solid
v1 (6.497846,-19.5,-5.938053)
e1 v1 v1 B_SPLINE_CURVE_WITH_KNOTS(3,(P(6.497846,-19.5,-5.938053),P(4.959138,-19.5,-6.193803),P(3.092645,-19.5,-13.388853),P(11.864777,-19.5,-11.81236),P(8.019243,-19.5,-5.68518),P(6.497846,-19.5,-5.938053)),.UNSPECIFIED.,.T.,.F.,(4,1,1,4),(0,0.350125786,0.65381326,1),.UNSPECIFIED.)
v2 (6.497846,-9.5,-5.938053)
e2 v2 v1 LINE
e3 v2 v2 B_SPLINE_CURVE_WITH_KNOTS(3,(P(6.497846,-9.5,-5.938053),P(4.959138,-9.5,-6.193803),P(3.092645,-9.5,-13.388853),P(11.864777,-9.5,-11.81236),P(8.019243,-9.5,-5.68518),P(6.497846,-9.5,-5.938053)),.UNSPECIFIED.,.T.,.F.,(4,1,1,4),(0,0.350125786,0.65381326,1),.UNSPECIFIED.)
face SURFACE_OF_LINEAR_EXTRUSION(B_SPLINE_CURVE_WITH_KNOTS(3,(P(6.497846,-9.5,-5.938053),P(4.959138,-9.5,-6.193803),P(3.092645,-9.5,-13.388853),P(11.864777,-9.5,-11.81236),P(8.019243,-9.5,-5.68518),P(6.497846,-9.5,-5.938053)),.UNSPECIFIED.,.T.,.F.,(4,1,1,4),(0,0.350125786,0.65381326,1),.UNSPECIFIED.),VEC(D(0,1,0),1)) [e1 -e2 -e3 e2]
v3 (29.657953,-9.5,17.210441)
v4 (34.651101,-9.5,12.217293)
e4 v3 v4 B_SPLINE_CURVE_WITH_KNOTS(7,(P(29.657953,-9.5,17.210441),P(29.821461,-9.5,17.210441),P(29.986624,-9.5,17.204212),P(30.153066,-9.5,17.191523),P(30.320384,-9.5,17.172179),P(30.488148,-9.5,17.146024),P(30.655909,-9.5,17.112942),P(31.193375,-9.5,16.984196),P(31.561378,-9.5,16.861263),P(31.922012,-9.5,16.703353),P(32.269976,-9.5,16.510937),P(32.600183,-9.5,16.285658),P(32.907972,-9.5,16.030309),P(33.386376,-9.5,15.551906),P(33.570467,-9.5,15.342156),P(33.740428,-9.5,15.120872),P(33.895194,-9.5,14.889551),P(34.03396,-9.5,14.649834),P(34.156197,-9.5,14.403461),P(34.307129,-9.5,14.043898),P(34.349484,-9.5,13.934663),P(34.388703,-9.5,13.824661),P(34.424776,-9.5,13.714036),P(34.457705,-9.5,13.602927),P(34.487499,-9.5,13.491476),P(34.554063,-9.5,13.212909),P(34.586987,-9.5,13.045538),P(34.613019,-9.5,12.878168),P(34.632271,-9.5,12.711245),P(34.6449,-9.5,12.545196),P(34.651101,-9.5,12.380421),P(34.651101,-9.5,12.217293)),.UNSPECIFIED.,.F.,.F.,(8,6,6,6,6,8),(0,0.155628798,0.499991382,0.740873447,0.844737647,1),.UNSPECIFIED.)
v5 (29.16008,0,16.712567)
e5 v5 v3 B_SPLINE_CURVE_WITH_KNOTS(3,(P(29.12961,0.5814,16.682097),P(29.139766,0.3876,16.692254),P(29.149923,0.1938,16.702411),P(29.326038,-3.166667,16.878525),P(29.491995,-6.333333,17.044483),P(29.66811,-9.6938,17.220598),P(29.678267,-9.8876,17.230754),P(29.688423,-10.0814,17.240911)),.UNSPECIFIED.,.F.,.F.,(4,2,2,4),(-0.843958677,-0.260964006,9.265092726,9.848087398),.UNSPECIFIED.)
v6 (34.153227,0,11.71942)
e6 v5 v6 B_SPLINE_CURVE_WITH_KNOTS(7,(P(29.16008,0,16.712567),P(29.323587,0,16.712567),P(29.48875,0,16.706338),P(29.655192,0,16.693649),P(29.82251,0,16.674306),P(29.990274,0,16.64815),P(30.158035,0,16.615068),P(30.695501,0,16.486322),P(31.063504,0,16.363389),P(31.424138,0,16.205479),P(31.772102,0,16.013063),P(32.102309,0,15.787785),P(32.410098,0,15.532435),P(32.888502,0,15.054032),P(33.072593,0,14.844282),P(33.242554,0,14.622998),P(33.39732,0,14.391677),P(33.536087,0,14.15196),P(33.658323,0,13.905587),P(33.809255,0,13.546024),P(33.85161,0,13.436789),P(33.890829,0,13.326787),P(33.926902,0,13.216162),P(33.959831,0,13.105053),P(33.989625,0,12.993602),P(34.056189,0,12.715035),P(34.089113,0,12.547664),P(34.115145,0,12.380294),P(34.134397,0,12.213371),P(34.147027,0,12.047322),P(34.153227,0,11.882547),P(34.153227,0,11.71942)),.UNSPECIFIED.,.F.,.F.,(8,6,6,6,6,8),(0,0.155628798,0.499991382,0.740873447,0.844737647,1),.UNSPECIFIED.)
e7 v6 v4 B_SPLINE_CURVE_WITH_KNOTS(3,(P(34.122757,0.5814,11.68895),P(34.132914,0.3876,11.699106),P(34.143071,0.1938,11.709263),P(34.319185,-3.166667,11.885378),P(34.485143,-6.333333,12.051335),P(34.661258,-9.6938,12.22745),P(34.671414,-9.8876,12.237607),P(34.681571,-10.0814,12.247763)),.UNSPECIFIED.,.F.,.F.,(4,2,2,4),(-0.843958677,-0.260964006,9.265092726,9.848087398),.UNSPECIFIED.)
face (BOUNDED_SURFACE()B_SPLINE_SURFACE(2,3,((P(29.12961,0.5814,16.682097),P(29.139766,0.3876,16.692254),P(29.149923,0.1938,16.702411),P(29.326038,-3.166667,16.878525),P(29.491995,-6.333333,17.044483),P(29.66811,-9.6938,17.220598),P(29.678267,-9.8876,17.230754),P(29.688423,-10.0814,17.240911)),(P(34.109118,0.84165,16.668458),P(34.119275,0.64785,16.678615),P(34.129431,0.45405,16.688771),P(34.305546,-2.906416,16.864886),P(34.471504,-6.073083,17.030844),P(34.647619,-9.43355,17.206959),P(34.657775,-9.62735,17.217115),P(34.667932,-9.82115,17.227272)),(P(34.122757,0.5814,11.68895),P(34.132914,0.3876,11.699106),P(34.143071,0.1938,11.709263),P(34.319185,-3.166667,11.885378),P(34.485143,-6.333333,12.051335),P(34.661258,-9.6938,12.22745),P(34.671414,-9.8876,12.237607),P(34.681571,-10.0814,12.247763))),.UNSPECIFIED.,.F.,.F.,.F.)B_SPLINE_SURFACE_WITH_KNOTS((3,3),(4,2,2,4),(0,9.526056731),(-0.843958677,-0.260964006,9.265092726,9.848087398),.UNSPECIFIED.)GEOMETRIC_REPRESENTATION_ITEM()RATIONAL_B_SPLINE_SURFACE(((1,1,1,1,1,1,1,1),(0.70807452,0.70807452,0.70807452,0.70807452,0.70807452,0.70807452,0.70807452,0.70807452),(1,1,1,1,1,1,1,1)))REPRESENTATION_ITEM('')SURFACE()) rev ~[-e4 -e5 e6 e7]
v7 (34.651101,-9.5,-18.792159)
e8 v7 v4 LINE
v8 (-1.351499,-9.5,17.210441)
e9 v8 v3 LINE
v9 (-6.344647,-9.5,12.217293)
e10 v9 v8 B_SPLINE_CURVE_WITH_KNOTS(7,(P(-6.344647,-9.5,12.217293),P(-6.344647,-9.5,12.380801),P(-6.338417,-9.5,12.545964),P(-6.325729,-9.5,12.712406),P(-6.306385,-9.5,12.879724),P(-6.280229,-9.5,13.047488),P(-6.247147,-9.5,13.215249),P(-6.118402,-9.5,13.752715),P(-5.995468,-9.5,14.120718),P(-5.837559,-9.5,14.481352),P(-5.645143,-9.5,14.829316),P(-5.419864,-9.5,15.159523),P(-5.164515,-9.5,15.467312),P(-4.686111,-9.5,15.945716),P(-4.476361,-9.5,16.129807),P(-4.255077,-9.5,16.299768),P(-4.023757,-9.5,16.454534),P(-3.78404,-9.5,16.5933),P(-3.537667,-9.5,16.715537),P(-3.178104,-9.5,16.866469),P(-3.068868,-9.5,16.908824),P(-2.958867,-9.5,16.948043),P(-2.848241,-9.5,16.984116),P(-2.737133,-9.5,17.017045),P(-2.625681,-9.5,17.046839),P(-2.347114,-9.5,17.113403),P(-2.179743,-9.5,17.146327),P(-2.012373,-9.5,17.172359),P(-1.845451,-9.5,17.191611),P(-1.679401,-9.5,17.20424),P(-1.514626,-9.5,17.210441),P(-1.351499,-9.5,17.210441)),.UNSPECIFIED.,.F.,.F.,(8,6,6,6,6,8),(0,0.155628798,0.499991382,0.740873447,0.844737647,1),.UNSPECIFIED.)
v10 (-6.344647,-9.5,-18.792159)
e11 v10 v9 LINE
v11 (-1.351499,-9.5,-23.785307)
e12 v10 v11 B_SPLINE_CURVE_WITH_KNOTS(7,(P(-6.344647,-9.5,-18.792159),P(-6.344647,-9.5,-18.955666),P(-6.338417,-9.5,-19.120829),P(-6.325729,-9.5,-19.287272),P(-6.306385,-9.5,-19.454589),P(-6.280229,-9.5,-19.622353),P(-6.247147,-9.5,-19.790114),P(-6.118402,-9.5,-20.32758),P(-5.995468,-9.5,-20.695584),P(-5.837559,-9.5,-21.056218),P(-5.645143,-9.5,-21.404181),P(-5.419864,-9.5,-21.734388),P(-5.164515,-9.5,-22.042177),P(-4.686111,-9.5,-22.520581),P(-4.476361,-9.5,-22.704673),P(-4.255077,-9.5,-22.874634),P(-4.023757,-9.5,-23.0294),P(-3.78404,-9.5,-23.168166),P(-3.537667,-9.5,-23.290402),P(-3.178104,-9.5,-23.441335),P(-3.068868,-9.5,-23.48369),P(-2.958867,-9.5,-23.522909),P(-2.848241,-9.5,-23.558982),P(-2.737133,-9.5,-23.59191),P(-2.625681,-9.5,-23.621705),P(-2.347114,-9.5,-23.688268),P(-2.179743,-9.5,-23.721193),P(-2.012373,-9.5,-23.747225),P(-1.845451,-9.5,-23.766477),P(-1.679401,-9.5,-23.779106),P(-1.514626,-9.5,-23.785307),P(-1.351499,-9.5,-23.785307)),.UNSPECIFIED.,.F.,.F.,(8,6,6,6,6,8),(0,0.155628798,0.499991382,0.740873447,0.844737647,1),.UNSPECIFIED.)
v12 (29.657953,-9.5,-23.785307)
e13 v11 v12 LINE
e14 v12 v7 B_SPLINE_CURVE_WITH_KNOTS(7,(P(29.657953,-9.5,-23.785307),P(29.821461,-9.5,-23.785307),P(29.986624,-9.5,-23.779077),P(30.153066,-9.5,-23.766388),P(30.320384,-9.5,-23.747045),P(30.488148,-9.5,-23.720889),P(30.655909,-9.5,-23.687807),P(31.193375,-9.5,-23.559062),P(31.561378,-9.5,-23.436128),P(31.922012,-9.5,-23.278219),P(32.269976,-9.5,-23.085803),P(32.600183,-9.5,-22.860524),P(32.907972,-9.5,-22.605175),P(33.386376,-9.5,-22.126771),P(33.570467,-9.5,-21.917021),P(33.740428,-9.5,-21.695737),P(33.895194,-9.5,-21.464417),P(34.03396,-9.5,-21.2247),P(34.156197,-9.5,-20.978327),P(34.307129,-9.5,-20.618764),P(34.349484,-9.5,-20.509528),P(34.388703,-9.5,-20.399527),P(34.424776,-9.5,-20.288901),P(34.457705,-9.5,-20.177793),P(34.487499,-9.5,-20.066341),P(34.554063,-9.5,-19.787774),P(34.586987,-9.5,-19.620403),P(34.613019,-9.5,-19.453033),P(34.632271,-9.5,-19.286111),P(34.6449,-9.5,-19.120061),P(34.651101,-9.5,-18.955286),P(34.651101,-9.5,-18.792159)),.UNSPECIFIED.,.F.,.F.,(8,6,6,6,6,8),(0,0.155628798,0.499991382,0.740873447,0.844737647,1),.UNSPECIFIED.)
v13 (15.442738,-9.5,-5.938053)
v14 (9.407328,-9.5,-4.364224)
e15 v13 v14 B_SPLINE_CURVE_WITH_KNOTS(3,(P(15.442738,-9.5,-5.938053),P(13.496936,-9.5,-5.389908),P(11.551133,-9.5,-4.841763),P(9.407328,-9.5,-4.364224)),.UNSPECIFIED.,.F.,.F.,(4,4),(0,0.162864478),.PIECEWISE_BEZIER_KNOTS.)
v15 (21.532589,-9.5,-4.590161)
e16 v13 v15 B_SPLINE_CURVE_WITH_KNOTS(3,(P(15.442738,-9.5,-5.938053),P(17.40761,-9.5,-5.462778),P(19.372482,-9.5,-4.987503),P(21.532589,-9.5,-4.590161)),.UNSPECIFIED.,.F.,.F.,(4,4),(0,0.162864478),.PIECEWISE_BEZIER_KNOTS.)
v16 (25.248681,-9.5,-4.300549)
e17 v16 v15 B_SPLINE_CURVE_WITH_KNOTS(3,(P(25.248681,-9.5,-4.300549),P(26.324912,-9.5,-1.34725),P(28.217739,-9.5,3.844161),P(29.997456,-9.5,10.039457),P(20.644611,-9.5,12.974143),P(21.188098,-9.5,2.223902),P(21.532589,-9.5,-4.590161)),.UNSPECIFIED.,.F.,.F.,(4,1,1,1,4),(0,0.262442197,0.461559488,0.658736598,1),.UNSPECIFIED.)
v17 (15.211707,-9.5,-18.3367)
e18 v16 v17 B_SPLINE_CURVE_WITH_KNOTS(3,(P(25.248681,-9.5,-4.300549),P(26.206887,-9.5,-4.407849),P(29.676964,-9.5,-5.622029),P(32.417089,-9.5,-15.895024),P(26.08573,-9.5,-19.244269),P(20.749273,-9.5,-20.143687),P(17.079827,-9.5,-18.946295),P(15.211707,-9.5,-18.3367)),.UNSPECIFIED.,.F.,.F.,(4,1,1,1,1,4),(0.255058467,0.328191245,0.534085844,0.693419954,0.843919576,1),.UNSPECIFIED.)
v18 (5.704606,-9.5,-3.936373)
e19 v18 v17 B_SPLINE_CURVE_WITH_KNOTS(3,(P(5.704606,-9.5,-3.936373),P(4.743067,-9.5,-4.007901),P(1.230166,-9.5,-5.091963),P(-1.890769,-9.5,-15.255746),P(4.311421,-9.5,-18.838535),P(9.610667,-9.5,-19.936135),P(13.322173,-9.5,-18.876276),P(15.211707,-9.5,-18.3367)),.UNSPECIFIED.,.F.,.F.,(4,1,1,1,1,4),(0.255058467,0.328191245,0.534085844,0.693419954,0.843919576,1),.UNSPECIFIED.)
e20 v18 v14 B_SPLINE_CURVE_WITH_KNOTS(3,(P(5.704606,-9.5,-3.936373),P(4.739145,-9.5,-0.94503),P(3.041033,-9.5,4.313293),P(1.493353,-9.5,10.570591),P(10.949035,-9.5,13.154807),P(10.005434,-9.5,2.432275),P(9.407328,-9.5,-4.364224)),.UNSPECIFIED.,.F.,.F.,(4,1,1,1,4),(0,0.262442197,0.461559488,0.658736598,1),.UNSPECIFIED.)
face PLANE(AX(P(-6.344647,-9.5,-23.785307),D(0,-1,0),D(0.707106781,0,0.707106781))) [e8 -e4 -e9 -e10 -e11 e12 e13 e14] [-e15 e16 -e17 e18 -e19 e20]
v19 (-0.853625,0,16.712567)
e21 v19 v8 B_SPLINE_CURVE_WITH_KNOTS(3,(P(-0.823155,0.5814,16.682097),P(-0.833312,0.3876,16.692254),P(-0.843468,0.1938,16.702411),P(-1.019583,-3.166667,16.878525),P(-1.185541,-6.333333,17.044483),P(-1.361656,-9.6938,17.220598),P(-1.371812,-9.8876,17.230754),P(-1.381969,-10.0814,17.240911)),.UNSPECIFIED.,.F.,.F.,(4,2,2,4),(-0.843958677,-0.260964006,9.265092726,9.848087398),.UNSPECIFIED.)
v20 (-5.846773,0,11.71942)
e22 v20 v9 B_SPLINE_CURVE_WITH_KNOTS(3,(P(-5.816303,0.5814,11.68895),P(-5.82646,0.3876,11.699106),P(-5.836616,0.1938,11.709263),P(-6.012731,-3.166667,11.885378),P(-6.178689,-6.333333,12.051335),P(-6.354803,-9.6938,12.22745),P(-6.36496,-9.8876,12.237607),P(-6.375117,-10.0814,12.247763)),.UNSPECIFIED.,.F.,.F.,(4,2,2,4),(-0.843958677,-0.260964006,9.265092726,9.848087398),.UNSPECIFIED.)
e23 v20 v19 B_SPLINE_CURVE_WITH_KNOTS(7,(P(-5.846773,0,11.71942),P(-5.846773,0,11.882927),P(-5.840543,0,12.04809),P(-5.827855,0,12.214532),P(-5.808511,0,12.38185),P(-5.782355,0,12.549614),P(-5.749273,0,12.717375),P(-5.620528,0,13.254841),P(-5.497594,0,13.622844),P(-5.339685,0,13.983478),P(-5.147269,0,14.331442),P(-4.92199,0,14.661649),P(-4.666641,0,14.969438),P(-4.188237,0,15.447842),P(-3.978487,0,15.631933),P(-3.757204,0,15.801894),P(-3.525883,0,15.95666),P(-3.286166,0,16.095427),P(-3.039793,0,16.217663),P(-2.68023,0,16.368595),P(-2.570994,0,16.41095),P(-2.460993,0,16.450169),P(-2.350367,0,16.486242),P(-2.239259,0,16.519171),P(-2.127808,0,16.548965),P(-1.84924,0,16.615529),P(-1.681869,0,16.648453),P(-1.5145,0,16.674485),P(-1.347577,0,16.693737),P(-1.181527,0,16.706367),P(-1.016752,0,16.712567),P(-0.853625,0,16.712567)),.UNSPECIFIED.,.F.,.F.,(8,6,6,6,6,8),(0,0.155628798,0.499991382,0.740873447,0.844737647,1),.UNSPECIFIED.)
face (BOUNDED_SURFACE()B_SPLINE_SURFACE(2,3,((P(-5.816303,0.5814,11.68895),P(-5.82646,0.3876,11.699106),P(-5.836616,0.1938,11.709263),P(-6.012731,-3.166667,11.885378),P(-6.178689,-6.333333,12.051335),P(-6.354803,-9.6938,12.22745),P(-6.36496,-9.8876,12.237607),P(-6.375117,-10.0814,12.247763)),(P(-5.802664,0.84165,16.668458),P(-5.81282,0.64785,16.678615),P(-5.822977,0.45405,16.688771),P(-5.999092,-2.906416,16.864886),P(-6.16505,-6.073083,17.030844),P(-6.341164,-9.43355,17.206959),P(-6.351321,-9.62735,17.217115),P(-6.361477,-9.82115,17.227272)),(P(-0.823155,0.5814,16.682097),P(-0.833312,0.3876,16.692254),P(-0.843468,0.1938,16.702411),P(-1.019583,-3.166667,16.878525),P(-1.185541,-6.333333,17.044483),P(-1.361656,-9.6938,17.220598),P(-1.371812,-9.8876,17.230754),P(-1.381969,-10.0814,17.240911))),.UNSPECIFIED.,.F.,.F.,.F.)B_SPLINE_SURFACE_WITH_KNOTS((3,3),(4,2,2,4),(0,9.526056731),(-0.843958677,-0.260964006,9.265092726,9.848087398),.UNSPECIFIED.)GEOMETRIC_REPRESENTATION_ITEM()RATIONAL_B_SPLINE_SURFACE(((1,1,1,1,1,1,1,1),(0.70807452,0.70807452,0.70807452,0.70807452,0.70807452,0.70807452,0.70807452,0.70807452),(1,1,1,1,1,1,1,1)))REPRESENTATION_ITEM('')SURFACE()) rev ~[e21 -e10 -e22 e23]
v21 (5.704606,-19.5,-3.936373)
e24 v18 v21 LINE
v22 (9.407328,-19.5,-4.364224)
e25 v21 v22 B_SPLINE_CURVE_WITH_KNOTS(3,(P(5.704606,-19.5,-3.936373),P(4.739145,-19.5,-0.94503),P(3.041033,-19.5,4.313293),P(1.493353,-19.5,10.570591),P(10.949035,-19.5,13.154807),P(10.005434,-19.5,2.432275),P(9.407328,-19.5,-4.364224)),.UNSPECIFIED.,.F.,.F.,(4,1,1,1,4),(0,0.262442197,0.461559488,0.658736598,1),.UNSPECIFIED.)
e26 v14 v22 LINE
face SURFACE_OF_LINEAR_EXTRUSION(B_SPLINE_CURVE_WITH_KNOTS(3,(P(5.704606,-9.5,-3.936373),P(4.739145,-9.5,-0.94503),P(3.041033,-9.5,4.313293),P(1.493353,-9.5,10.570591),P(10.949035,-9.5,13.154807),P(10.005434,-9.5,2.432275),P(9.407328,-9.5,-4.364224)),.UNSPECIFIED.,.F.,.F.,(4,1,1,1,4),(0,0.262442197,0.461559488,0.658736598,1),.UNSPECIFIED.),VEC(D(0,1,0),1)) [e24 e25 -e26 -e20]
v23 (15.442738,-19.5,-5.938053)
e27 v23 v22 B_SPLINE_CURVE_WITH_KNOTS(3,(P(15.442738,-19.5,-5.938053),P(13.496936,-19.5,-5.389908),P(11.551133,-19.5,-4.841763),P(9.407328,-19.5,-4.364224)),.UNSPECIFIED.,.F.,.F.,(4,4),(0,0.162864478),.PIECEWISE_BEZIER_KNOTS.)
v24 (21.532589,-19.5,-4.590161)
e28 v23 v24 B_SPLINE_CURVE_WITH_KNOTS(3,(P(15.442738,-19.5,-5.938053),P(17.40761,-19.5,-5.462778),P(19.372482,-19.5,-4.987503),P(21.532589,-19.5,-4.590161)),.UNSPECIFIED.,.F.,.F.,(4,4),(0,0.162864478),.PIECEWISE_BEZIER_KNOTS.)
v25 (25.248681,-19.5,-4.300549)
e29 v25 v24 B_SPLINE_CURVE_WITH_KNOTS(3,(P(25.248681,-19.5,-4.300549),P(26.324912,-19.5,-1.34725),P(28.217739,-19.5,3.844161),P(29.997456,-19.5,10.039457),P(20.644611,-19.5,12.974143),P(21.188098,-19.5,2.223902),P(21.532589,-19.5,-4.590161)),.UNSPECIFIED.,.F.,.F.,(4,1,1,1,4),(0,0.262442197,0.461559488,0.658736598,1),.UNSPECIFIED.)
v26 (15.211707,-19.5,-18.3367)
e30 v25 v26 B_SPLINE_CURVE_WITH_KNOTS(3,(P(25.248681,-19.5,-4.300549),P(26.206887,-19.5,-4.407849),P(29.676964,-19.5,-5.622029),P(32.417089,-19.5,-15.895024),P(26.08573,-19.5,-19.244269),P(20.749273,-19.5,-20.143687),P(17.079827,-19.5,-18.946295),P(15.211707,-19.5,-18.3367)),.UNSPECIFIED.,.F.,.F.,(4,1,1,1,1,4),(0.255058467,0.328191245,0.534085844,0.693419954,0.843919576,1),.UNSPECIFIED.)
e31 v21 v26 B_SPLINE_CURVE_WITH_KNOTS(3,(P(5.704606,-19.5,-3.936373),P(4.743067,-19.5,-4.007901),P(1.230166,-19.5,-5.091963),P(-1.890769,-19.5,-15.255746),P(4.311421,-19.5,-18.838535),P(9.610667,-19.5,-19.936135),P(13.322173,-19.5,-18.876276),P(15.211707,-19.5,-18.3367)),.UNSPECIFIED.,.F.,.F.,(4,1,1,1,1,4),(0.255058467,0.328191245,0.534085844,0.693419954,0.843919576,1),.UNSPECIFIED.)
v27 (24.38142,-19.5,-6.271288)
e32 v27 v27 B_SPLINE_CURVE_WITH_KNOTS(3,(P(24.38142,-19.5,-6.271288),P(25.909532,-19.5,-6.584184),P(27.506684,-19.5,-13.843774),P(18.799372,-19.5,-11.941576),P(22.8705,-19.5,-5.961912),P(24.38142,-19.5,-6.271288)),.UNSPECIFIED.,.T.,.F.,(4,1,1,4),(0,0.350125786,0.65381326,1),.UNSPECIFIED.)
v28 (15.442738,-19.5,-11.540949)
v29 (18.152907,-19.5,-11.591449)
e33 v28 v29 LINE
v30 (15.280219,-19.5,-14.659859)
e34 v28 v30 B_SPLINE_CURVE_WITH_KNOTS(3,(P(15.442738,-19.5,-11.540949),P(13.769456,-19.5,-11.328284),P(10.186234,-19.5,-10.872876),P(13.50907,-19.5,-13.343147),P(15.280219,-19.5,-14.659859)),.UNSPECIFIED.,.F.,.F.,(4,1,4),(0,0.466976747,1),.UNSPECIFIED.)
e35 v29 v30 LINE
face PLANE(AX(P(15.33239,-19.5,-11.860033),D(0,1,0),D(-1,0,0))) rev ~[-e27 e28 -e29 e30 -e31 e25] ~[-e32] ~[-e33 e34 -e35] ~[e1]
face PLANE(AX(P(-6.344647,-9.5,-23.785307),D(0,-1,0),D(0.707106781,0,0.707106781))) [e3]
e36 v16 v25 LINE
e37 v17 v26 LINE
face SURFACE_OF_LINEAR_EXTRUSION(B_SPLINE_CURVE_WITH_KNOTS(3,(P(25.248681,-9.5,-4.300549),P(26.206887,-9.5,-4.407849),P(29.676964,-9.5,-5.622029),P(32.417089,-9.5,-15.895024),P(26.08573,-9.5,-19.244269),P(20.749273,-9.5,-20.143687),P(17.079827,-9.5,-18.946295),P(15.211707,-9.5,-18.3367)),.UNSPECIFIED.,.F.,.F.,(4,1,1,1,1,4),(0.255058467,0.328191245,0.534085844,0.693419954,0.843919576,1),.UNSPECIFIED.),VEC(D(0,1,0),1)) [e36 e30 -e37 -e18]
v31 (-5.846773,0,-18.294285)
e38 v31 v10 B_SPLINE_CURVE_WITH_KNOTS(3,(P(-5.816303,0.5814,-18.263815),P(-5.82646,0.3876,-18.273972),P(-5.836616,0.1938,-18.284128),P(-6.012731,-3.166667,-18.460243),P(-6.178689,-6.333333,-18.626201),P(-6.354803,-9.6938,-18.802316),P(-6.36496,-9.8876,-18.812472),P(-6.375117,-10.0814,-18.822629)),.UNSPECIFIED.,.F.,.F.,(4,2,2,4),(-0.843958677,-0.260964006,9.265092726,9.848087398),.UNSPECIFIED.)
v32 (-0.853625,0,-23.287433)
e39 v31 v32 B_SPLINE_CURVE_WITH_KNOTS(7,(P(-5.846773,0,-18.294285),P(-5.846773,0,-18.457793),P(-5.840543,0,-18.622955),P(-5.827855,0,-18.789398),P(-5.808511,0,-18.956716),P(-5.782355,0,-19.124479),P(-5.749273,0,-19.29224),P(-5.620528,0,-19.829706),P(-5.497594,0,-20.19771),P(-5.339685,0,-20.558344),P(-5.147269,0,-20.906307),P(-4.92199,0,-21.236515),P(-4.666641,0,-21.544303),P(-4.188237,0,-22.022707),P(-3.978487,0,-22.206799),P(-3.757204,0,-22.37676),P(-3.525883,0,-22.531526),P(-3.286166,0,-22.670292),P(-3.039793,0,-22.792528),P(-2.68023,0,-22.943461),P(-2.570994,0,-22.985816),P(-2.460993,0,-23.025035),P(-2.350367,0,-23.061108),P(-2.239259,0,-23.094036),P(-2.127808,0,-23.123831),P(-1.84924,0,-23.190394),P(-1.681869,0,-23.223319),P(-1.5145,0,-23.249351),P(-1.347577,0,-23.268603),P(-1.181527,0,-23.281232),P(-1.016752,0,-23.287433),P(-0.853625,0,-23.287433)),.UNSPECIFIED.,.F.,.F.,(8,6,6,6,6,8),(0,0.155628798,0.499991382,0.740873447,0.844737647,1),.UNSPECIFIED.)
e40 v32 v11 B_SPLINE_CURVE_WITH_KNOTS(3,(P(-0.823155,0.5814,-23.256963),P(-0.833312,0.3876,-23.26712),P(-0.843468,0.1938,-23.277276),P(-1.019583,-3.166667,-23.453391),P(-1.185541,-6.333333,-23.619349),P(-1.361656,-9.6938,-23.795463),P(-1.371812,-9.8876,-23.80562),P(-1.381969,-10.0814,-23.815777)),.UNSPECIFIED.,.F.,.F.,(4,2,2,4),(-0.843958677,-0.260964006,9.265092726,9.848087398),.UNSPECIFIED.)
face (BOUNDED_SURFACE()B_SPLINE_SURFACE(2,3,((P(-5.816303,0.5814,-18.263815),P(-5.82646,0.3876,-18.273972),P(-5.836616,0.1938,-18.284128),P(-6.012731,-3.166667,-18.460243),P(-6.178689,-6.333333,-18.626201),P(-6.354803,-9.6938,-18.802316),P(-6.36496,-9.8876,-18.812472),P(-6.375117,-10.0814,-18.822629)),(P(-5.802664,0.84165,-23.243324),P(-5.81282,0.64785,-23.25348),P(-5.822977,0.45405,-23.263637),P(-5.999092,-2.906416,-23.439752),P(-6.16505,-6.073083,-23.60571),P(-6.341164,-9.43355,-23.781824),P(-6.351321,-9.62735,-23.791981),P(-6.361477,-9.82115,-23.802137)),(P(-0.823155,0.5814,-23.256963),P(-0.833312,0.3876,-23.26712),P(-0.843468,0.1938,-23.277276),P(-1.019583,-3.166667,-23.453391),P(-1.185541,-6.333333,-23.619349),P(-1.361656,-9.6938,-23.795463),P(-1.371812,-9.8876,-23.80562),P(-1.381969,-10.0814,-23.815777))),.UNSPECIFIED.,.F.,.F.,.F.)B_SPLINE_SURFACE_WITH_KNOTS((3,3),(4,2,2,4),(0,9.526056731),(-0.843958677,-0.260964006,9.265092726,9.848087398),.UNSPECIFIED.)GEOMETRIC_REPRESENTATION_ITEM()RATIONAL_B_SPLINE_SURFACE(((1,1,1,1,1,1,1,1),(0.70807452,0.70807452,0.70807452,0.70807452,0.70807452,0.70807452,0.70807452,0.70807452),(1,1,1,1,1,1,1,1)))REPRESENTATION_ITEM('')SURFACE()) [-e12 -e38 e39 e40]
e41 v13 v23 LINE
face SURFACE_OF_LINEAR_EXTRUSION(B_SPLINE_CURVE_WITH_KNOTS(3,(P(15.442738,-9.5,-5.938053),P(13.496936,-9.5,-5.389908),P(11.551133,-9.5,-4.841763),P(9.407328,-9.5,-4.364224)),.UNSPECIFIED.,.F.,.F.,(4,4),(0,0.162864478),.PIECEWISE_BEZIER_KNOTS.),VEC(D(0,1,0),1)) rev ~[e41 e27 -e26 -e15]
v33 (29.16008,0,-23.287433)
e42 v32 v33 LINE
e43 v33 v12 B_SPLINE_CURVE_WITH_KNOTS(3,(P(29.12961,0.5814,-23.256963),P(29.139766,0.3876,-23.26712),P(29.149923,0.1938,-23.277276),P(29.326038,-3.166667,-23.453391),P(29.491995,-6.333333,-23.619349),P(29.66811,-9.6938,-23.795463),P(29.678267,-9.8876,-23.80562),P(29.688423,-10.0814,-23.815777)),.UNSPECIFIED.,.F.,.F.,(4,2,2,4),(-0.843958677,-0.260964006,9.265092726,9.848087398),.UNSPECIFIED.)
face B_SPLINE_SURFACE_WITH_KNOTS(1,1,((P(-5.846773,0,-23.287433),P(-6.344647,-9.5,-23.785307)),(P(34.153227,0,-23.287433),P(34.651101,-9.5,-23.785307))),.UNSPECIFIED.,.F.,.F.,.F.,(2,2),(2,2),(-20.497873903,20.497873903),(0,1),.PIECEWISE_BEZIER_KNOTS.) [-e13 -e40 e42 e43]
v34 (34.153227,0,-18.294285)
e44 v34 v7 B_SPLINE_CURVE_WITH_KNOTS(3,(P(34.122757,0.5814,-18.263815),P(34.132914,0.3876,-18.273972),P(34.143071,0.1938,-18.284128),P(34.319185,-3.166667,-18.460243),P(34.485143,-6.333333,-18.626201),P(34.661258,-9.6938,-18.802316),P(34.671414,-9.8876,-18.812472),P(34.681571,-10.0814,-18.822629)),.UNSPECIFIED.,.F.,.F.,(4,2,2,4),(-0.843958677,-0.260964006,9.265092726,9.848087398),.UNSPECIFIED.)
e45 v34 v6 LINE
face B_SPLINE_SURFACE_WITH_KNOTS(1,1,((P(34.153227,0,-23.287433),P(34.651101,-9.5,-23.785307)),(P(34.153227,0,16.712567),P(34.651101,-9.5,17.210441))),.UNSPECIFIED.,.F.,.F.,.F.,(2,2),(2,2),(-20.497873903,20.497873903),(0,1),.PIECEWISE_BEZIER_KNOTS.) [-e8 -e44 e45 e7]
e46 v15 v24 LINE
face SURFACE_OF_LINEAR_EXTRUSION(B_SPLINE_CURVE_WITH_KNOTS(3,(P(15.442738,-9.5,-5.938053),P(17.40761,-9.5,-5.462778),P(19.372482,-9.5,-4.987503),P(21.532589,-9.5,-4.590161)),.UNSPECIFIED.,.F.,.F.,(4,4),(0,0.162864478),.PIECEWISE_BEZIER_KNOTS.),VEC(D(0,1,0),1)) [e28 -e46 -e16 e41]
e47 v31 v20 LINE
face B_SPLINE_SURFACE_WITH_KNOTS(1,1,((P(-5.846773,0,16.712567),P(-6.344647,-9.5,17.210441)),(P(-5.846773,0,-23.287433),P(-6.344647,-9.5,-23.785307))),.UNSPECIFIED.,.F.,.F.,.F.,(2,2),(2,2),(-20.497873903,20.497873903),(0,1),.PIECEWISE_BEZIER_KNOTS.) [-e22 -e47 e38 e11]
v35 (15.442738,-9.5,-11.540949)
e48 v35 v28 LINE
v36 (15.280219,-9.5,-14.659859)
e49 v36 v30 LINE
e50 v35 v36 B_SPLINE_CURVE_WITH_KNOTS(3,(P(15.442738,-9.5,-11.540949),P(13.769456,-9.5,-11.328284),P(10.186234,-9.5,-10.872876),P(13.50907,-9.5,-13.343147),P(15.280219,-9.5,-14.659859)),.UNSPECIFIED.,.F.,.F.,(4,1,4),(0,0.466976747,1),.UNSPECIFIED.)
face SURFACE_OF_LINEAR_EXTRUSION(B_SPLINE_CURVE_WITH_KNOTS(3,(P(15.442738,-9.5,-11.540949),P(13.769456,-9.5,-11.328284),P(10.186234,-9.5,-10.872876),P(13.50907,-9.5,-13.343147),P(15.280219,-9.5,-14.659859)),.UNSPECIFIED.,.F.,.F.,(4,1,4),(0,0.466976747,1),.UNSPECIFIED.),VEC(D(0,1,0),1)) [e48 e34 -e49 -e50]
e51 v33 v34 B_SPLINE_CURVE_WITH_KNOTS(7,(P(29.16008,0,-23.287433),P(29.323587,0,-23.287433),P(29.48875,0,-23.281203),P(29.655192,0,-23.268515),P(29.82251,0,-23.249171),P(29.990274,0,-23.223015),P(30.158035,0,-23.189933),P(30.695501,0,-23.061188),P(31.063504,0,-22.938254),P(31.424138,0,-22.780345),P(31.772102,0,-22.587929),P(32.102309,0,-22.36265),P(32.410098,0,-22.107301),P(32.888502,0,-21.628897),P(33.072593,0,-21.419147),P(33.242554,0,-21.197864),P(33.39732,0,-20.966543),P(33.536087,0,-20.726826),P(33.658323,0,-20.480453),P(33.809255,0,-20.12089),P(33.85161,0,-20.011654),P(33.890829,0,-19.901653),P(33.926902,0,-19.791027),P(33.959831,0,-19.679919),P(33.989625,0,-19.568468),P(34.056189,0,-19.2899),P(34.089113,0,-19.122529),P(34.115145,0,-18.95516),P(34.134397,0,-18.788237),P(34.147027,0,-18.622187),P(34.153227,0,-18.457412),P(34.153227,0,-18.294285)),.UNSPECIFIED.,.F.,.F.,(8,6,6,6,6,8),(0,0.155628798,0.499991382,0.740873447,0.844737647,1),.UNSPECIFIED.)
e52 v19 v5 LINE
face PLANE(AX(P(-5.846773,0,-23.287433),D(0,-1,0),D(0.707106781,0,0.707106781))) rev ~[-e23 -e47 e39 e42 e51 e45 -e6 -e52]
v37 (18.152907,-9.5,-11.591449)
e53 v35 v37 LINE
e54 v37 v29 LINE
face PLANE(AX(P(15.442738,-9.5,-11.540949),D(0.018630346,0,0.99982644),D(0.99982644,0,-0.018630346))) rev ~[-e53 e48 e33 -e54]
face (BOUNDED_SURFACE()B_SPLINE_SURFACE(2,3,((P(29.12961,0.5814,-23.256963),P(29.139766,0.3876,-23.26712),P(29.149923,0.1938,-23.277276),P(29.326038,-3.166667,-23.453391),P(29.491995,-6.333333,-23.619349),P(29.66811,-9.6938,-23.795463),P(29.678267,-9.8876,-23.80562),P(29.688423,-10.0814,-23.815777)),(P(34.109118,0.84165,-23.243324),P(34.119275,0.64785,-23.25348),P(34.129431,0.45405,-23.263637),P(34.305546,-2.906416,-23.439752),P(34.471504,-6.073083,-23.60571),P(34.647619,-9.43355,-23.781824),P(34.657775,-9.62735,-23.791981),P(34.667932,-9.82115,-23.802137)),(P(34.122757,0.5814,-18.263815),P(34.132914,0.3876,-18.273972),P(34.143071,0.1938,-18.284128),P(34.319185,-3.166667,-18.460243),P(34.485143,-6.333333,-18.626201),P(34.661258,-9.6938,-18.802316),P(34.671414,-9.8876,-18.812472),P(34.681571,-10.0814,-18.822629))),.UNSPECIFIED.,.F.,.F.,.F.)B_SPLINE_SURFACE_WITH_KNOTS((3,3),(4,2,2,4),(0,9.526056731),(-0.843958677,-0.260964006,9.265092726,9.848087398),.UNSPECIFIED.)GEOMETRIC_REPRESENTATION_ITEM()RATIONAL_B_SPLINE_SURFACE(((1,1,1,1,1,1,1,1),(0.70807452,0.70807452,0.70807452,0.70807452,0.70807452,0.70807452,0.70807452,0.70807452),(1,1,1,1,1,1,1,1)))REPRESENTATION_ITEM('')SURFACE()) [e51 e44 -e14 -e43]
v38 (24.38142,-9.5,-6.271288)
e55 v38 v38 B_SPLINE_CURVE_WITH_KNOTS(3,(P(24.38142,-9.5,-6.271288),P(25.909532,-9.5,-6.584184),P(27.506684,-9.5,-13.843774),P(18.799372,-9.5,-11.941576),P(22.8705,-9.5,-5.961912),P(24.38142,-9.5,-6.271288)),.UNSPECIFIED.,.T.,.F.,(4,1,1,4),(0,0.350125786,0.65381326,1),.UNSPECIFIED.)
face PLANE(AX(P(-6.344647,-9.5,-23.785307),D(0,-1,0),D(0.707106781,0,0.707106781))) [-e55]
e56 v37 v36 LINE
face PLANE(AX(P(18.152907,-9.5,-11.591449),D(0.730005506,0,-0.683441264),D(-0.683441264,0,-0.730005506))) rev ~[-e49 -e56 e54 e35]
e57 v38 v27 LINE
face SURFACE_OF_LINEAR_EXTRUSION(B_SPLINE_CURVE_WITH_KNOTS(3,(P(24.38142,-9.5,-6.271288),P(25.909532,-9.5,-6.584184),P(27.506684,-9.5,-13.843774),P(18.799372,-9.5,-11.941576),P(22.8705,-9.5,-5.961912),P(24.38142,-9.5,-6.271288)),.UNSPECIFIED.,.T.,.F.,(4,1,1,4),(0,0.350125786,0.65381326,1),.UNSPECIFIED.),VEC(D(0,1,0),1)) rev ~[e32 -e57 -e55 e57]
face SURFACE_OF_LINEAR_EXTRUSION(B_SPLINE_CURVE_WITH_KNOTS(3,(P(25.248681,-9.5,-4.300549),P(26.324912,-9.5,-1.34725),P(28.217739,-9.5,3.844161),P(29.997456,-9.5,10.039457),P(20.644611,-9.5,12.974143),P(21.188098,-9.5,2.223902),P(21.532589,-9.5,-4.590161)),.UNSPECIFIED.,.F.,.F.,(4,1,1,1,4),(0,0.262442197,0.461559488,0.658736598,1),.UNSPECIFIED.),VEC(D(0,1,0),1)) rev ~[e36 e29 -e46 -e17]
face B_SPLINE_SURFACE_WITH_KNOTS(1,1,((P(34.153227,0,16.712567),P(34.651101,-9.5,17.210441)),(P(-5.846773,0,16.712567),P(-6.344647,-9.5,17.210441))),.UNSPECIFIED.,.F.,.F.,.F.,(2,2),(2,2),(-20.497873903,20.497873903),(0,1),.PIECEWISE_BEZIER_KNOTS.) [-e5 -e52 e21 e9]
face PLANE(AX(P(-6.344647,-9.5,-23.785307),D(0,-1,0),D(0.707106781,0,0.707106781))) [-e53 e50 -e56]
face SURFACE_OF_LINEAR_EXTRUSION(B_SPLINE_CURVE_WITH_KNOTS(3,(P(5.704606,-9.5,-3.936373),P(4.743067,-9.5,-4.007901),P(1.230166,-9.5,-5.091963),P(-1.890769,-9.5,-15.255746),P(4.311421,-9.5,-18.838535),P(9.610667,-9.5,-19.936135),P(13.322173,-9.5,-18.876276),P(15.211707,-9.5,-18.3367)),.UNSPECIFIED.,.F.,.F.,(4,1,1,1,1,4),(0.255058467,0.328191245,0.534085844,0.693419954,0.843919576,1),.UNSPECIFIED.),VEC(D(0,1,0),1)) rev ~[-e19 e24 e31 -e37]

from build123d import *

# Parameters (mm, degrees)
F0_W     = 40
F0_H     = 40
F1_DEPTH = 9.5
F1_TAPER = -3
F3_DEPTH = 10
F4_R     = 5


with BuildPart() as f1:
    # F0 (on Front) → F1 (new body)
    with BuildSketch(Plane.XZ):
        with Locations((14.15322721, -3.2874327707)):
            Rectangle(F0_W, F0_H)
    extrude(amount=F1_DEPTH, taper=F1_TAPER)

    # F2 (on face) → F3 (join)
    with BuildSketch(Plane.XZ.offset(9.5)):
        with BuildLine():
            add(Edge.make_bspline(
                [(15.4427378055, -5.9380531249), (17.4076100785, -5.4627778585), (19.3724823516, -4.9875025921), (21.532589289, -4.5901611645)],
                knots=[0, 0, 0, 0, 0.1628644785, 0.1628644785, 0.1628644785, 0.1628644785], degree=3))
            add(Edge.make_bspline(
                [(15.4427378055, -5.9380531249), (13.496935518, -5.3899079926), (11.5511332305, -4.8417628604), (9.4073284417, -4.3642241508)],
                knots=[0, 0, 0, 0, 0.1628644785, 0.1628644785, 0.1628644785, 0.1628644785], degree=3))
            add(Edge.make_bspline(
                [(9.4073284417, -4.3642241508), (8.1937678427, -4.0939000217), (6.9167584838, -3.8462013136), (5.7046060089, -3.9363729443)],
                knots=[0.1628644785, 0.1628644785, 0.1628644785, 0.1628644785, 0.255058467, 0.255058467, 0.255058467, 0.255058467], degree=3))
            add(Edge.make_bspline(
                [(5.7046060089, -3.9363729443), (4.7430674137, -4.0079014895), (1.2301656717, -5.0919629627), (-1.8907689465, -15.255745714), (4.3114213843, -18.83853525), (9.6106669115, -19.9361347211), (13.3221727046, -18.8762759486), (15.2117066308, -18.3367000407)],
                knots=[0.255058467, 0.255058467, 0.255058467, 0.255058467, 0.3281912453, 0.5340858443, 0.6934199544, 0.8439195762, 1, 1, 1, 1], degree=3))
            add(Edge.make_bspline(
                [(25.2486806324, -4.3005490154), (26.2068870067, -4.4078492813), (29.676964295, -5.6220286504), (32.4170885825, -15.8950239096), (26.0857296406, -19.2442685571), (20.7492725245, -20.1436868159), (17.0798273993, -18.9462945066), (15.2117066308, -18.3367000407)],
                knots=[0.255058467, 0.255058467, 0.255058467, 0.255058467, 0.3281912453, 0.5340858443, 0.6934199544, 0.8439195762, 1, 1, 1, 1], degree=3))
            add(Edge.make_bspline(
                [(21.532589289, -4.5901611645), (22.7553781748, -4.3652349475), (24.0407288831, -4.1652821799), (25.2486806324, -4.3005490154)],
                knots=[0.1628644785, 0.1628644785, 0.1628644785, 0.1628644785, 0.255058467, 0.255058467, 0.255058467, 0.255058467], degree=3))
        make_face()
        with BuildLine():
            add(Edge.make_bspline(
                [(15.4427378055, -11.5409493446), (13.7694562977, -11.3282843825), (10.1862339635, -10.8728763483), (13.5090703004, -13.343147403), (15.2802193352, -14.6598593174)],
                knots=[0, 0, 0, 0, 0.4669767466, 1, 1, 1, 1], degree=3))
            Line((15.4427378055, -11.5409493446), (18.1529070965, -11.5914495))
            Line((18.1529070965, -11.5914495), (15.2802193352, -14.6598593174))
        make_face(mode=Mode.SUBTRACT)
        with BuildLine():
            add(Edge.make_bspline(
                [(6.497845985, -5.9380531249), (4.9591381281, -6.1938031511), (3.0926448712, -13.3888531992), (11.8647773781, -11.8123598553), (8.0192428058, -5.6851803817), (6.497845985, -5.9380531249)],
                knots=[0, 0, 0, 0, 0.3501257858, 0.6538132596, 1, 1, 1, 1], degree=3))
        make_face(mode=Mode.SUBTRACT)
        with BuildLine():
            add(Edge.make_bspline(
                [(24.381420265, -6.2712881306), (25.9095322135, -6.5841839879), (27.5066837811, -13.8437741377), (18.7993717458, -11.9415761718), (22.8705001447, -5.9619124681), (24.381420265, -6.2712881306)],
                knots=[0, 0, 0, 0, 0.3501257858, 0.6538132596, 1, 1, 1, 1], degree=3))
        make_face(mode=Mode.SUBTRACT)
        with BuildLine():
            add(Edge.make_bspline(
                [(9.4073284417, -4.3642241508), (8.1937678427, -4.0939000217), (6.9167584838, -3.8462013136), (5.7046060089, -3.9363729443)],
                knots=[0.1628644785, 0.1628644785, 0.1628644785, 0.1628644785, 0.255058467, 0.255058467, 0.255058467, 0.255058467], degree=3))
            add(Edge.make_bspline(
                [(5.7046060089, -3.9363729443), (4.7391447852, -0.9450299226), (3.0410334804, 4.3132933346), (1.4933527853, 10.5705908358), (10.9490352093, 13.1548066897), (10.0054336437, 2.4322746557), (9.4073284417, -4.3642241508)],
                knots=[0, 0, 0, 0, 0.2624421968, 0.4615594882, 0.658736598, 1, 1, 1, 1], degree=3))
        make_face()
        with BuildLine():
            add(Edge.make_bspline(
                [(25.2486806324, -4.3005490154), (26.3249118164, -1.3472500317), (28.2177390808, 3.8441611857), (29.9974561718, 10.0394573552), (20.6446106461, 12.9741434126), (21.1880975701, 2.2239015968), (21.532589289, -4.5901611645)],
                knots=[0, 0, 0, 0, 0.2624421968, 0.4615594882, 0.658736598, 1, 1, 1, 1], degree=3))
            add(Edge.make_bspline(
                [(21.532589289, -4.5901611645), (22.7553781748, -4.3652349475), (24.0407288831, -4.1652821799), (25.2486806324, -4.3005490154)],
                knots=[0.1628644785, 0.1628644785, 0.1628644785, 0.1628644785, 0.255058467, 0.255058467, 0.255058467, 0.255058467], degree=3))
        make_face()
    extrude(amount=F3_DEPTH)

    # F4
    f4_edges = [f1.edges().sort_by_distance(p)[0] for p in [
        (-6.09571, -4.75, 16.961504),
        (34.402164, -4.75, 16.961504),
        (34.402164, -4.75, -23.53637),
        (-6.09571, -4.75, -23.53637),
    ]]
    fillet(f4_edges, radius=F4_R)


solid = f1.part
